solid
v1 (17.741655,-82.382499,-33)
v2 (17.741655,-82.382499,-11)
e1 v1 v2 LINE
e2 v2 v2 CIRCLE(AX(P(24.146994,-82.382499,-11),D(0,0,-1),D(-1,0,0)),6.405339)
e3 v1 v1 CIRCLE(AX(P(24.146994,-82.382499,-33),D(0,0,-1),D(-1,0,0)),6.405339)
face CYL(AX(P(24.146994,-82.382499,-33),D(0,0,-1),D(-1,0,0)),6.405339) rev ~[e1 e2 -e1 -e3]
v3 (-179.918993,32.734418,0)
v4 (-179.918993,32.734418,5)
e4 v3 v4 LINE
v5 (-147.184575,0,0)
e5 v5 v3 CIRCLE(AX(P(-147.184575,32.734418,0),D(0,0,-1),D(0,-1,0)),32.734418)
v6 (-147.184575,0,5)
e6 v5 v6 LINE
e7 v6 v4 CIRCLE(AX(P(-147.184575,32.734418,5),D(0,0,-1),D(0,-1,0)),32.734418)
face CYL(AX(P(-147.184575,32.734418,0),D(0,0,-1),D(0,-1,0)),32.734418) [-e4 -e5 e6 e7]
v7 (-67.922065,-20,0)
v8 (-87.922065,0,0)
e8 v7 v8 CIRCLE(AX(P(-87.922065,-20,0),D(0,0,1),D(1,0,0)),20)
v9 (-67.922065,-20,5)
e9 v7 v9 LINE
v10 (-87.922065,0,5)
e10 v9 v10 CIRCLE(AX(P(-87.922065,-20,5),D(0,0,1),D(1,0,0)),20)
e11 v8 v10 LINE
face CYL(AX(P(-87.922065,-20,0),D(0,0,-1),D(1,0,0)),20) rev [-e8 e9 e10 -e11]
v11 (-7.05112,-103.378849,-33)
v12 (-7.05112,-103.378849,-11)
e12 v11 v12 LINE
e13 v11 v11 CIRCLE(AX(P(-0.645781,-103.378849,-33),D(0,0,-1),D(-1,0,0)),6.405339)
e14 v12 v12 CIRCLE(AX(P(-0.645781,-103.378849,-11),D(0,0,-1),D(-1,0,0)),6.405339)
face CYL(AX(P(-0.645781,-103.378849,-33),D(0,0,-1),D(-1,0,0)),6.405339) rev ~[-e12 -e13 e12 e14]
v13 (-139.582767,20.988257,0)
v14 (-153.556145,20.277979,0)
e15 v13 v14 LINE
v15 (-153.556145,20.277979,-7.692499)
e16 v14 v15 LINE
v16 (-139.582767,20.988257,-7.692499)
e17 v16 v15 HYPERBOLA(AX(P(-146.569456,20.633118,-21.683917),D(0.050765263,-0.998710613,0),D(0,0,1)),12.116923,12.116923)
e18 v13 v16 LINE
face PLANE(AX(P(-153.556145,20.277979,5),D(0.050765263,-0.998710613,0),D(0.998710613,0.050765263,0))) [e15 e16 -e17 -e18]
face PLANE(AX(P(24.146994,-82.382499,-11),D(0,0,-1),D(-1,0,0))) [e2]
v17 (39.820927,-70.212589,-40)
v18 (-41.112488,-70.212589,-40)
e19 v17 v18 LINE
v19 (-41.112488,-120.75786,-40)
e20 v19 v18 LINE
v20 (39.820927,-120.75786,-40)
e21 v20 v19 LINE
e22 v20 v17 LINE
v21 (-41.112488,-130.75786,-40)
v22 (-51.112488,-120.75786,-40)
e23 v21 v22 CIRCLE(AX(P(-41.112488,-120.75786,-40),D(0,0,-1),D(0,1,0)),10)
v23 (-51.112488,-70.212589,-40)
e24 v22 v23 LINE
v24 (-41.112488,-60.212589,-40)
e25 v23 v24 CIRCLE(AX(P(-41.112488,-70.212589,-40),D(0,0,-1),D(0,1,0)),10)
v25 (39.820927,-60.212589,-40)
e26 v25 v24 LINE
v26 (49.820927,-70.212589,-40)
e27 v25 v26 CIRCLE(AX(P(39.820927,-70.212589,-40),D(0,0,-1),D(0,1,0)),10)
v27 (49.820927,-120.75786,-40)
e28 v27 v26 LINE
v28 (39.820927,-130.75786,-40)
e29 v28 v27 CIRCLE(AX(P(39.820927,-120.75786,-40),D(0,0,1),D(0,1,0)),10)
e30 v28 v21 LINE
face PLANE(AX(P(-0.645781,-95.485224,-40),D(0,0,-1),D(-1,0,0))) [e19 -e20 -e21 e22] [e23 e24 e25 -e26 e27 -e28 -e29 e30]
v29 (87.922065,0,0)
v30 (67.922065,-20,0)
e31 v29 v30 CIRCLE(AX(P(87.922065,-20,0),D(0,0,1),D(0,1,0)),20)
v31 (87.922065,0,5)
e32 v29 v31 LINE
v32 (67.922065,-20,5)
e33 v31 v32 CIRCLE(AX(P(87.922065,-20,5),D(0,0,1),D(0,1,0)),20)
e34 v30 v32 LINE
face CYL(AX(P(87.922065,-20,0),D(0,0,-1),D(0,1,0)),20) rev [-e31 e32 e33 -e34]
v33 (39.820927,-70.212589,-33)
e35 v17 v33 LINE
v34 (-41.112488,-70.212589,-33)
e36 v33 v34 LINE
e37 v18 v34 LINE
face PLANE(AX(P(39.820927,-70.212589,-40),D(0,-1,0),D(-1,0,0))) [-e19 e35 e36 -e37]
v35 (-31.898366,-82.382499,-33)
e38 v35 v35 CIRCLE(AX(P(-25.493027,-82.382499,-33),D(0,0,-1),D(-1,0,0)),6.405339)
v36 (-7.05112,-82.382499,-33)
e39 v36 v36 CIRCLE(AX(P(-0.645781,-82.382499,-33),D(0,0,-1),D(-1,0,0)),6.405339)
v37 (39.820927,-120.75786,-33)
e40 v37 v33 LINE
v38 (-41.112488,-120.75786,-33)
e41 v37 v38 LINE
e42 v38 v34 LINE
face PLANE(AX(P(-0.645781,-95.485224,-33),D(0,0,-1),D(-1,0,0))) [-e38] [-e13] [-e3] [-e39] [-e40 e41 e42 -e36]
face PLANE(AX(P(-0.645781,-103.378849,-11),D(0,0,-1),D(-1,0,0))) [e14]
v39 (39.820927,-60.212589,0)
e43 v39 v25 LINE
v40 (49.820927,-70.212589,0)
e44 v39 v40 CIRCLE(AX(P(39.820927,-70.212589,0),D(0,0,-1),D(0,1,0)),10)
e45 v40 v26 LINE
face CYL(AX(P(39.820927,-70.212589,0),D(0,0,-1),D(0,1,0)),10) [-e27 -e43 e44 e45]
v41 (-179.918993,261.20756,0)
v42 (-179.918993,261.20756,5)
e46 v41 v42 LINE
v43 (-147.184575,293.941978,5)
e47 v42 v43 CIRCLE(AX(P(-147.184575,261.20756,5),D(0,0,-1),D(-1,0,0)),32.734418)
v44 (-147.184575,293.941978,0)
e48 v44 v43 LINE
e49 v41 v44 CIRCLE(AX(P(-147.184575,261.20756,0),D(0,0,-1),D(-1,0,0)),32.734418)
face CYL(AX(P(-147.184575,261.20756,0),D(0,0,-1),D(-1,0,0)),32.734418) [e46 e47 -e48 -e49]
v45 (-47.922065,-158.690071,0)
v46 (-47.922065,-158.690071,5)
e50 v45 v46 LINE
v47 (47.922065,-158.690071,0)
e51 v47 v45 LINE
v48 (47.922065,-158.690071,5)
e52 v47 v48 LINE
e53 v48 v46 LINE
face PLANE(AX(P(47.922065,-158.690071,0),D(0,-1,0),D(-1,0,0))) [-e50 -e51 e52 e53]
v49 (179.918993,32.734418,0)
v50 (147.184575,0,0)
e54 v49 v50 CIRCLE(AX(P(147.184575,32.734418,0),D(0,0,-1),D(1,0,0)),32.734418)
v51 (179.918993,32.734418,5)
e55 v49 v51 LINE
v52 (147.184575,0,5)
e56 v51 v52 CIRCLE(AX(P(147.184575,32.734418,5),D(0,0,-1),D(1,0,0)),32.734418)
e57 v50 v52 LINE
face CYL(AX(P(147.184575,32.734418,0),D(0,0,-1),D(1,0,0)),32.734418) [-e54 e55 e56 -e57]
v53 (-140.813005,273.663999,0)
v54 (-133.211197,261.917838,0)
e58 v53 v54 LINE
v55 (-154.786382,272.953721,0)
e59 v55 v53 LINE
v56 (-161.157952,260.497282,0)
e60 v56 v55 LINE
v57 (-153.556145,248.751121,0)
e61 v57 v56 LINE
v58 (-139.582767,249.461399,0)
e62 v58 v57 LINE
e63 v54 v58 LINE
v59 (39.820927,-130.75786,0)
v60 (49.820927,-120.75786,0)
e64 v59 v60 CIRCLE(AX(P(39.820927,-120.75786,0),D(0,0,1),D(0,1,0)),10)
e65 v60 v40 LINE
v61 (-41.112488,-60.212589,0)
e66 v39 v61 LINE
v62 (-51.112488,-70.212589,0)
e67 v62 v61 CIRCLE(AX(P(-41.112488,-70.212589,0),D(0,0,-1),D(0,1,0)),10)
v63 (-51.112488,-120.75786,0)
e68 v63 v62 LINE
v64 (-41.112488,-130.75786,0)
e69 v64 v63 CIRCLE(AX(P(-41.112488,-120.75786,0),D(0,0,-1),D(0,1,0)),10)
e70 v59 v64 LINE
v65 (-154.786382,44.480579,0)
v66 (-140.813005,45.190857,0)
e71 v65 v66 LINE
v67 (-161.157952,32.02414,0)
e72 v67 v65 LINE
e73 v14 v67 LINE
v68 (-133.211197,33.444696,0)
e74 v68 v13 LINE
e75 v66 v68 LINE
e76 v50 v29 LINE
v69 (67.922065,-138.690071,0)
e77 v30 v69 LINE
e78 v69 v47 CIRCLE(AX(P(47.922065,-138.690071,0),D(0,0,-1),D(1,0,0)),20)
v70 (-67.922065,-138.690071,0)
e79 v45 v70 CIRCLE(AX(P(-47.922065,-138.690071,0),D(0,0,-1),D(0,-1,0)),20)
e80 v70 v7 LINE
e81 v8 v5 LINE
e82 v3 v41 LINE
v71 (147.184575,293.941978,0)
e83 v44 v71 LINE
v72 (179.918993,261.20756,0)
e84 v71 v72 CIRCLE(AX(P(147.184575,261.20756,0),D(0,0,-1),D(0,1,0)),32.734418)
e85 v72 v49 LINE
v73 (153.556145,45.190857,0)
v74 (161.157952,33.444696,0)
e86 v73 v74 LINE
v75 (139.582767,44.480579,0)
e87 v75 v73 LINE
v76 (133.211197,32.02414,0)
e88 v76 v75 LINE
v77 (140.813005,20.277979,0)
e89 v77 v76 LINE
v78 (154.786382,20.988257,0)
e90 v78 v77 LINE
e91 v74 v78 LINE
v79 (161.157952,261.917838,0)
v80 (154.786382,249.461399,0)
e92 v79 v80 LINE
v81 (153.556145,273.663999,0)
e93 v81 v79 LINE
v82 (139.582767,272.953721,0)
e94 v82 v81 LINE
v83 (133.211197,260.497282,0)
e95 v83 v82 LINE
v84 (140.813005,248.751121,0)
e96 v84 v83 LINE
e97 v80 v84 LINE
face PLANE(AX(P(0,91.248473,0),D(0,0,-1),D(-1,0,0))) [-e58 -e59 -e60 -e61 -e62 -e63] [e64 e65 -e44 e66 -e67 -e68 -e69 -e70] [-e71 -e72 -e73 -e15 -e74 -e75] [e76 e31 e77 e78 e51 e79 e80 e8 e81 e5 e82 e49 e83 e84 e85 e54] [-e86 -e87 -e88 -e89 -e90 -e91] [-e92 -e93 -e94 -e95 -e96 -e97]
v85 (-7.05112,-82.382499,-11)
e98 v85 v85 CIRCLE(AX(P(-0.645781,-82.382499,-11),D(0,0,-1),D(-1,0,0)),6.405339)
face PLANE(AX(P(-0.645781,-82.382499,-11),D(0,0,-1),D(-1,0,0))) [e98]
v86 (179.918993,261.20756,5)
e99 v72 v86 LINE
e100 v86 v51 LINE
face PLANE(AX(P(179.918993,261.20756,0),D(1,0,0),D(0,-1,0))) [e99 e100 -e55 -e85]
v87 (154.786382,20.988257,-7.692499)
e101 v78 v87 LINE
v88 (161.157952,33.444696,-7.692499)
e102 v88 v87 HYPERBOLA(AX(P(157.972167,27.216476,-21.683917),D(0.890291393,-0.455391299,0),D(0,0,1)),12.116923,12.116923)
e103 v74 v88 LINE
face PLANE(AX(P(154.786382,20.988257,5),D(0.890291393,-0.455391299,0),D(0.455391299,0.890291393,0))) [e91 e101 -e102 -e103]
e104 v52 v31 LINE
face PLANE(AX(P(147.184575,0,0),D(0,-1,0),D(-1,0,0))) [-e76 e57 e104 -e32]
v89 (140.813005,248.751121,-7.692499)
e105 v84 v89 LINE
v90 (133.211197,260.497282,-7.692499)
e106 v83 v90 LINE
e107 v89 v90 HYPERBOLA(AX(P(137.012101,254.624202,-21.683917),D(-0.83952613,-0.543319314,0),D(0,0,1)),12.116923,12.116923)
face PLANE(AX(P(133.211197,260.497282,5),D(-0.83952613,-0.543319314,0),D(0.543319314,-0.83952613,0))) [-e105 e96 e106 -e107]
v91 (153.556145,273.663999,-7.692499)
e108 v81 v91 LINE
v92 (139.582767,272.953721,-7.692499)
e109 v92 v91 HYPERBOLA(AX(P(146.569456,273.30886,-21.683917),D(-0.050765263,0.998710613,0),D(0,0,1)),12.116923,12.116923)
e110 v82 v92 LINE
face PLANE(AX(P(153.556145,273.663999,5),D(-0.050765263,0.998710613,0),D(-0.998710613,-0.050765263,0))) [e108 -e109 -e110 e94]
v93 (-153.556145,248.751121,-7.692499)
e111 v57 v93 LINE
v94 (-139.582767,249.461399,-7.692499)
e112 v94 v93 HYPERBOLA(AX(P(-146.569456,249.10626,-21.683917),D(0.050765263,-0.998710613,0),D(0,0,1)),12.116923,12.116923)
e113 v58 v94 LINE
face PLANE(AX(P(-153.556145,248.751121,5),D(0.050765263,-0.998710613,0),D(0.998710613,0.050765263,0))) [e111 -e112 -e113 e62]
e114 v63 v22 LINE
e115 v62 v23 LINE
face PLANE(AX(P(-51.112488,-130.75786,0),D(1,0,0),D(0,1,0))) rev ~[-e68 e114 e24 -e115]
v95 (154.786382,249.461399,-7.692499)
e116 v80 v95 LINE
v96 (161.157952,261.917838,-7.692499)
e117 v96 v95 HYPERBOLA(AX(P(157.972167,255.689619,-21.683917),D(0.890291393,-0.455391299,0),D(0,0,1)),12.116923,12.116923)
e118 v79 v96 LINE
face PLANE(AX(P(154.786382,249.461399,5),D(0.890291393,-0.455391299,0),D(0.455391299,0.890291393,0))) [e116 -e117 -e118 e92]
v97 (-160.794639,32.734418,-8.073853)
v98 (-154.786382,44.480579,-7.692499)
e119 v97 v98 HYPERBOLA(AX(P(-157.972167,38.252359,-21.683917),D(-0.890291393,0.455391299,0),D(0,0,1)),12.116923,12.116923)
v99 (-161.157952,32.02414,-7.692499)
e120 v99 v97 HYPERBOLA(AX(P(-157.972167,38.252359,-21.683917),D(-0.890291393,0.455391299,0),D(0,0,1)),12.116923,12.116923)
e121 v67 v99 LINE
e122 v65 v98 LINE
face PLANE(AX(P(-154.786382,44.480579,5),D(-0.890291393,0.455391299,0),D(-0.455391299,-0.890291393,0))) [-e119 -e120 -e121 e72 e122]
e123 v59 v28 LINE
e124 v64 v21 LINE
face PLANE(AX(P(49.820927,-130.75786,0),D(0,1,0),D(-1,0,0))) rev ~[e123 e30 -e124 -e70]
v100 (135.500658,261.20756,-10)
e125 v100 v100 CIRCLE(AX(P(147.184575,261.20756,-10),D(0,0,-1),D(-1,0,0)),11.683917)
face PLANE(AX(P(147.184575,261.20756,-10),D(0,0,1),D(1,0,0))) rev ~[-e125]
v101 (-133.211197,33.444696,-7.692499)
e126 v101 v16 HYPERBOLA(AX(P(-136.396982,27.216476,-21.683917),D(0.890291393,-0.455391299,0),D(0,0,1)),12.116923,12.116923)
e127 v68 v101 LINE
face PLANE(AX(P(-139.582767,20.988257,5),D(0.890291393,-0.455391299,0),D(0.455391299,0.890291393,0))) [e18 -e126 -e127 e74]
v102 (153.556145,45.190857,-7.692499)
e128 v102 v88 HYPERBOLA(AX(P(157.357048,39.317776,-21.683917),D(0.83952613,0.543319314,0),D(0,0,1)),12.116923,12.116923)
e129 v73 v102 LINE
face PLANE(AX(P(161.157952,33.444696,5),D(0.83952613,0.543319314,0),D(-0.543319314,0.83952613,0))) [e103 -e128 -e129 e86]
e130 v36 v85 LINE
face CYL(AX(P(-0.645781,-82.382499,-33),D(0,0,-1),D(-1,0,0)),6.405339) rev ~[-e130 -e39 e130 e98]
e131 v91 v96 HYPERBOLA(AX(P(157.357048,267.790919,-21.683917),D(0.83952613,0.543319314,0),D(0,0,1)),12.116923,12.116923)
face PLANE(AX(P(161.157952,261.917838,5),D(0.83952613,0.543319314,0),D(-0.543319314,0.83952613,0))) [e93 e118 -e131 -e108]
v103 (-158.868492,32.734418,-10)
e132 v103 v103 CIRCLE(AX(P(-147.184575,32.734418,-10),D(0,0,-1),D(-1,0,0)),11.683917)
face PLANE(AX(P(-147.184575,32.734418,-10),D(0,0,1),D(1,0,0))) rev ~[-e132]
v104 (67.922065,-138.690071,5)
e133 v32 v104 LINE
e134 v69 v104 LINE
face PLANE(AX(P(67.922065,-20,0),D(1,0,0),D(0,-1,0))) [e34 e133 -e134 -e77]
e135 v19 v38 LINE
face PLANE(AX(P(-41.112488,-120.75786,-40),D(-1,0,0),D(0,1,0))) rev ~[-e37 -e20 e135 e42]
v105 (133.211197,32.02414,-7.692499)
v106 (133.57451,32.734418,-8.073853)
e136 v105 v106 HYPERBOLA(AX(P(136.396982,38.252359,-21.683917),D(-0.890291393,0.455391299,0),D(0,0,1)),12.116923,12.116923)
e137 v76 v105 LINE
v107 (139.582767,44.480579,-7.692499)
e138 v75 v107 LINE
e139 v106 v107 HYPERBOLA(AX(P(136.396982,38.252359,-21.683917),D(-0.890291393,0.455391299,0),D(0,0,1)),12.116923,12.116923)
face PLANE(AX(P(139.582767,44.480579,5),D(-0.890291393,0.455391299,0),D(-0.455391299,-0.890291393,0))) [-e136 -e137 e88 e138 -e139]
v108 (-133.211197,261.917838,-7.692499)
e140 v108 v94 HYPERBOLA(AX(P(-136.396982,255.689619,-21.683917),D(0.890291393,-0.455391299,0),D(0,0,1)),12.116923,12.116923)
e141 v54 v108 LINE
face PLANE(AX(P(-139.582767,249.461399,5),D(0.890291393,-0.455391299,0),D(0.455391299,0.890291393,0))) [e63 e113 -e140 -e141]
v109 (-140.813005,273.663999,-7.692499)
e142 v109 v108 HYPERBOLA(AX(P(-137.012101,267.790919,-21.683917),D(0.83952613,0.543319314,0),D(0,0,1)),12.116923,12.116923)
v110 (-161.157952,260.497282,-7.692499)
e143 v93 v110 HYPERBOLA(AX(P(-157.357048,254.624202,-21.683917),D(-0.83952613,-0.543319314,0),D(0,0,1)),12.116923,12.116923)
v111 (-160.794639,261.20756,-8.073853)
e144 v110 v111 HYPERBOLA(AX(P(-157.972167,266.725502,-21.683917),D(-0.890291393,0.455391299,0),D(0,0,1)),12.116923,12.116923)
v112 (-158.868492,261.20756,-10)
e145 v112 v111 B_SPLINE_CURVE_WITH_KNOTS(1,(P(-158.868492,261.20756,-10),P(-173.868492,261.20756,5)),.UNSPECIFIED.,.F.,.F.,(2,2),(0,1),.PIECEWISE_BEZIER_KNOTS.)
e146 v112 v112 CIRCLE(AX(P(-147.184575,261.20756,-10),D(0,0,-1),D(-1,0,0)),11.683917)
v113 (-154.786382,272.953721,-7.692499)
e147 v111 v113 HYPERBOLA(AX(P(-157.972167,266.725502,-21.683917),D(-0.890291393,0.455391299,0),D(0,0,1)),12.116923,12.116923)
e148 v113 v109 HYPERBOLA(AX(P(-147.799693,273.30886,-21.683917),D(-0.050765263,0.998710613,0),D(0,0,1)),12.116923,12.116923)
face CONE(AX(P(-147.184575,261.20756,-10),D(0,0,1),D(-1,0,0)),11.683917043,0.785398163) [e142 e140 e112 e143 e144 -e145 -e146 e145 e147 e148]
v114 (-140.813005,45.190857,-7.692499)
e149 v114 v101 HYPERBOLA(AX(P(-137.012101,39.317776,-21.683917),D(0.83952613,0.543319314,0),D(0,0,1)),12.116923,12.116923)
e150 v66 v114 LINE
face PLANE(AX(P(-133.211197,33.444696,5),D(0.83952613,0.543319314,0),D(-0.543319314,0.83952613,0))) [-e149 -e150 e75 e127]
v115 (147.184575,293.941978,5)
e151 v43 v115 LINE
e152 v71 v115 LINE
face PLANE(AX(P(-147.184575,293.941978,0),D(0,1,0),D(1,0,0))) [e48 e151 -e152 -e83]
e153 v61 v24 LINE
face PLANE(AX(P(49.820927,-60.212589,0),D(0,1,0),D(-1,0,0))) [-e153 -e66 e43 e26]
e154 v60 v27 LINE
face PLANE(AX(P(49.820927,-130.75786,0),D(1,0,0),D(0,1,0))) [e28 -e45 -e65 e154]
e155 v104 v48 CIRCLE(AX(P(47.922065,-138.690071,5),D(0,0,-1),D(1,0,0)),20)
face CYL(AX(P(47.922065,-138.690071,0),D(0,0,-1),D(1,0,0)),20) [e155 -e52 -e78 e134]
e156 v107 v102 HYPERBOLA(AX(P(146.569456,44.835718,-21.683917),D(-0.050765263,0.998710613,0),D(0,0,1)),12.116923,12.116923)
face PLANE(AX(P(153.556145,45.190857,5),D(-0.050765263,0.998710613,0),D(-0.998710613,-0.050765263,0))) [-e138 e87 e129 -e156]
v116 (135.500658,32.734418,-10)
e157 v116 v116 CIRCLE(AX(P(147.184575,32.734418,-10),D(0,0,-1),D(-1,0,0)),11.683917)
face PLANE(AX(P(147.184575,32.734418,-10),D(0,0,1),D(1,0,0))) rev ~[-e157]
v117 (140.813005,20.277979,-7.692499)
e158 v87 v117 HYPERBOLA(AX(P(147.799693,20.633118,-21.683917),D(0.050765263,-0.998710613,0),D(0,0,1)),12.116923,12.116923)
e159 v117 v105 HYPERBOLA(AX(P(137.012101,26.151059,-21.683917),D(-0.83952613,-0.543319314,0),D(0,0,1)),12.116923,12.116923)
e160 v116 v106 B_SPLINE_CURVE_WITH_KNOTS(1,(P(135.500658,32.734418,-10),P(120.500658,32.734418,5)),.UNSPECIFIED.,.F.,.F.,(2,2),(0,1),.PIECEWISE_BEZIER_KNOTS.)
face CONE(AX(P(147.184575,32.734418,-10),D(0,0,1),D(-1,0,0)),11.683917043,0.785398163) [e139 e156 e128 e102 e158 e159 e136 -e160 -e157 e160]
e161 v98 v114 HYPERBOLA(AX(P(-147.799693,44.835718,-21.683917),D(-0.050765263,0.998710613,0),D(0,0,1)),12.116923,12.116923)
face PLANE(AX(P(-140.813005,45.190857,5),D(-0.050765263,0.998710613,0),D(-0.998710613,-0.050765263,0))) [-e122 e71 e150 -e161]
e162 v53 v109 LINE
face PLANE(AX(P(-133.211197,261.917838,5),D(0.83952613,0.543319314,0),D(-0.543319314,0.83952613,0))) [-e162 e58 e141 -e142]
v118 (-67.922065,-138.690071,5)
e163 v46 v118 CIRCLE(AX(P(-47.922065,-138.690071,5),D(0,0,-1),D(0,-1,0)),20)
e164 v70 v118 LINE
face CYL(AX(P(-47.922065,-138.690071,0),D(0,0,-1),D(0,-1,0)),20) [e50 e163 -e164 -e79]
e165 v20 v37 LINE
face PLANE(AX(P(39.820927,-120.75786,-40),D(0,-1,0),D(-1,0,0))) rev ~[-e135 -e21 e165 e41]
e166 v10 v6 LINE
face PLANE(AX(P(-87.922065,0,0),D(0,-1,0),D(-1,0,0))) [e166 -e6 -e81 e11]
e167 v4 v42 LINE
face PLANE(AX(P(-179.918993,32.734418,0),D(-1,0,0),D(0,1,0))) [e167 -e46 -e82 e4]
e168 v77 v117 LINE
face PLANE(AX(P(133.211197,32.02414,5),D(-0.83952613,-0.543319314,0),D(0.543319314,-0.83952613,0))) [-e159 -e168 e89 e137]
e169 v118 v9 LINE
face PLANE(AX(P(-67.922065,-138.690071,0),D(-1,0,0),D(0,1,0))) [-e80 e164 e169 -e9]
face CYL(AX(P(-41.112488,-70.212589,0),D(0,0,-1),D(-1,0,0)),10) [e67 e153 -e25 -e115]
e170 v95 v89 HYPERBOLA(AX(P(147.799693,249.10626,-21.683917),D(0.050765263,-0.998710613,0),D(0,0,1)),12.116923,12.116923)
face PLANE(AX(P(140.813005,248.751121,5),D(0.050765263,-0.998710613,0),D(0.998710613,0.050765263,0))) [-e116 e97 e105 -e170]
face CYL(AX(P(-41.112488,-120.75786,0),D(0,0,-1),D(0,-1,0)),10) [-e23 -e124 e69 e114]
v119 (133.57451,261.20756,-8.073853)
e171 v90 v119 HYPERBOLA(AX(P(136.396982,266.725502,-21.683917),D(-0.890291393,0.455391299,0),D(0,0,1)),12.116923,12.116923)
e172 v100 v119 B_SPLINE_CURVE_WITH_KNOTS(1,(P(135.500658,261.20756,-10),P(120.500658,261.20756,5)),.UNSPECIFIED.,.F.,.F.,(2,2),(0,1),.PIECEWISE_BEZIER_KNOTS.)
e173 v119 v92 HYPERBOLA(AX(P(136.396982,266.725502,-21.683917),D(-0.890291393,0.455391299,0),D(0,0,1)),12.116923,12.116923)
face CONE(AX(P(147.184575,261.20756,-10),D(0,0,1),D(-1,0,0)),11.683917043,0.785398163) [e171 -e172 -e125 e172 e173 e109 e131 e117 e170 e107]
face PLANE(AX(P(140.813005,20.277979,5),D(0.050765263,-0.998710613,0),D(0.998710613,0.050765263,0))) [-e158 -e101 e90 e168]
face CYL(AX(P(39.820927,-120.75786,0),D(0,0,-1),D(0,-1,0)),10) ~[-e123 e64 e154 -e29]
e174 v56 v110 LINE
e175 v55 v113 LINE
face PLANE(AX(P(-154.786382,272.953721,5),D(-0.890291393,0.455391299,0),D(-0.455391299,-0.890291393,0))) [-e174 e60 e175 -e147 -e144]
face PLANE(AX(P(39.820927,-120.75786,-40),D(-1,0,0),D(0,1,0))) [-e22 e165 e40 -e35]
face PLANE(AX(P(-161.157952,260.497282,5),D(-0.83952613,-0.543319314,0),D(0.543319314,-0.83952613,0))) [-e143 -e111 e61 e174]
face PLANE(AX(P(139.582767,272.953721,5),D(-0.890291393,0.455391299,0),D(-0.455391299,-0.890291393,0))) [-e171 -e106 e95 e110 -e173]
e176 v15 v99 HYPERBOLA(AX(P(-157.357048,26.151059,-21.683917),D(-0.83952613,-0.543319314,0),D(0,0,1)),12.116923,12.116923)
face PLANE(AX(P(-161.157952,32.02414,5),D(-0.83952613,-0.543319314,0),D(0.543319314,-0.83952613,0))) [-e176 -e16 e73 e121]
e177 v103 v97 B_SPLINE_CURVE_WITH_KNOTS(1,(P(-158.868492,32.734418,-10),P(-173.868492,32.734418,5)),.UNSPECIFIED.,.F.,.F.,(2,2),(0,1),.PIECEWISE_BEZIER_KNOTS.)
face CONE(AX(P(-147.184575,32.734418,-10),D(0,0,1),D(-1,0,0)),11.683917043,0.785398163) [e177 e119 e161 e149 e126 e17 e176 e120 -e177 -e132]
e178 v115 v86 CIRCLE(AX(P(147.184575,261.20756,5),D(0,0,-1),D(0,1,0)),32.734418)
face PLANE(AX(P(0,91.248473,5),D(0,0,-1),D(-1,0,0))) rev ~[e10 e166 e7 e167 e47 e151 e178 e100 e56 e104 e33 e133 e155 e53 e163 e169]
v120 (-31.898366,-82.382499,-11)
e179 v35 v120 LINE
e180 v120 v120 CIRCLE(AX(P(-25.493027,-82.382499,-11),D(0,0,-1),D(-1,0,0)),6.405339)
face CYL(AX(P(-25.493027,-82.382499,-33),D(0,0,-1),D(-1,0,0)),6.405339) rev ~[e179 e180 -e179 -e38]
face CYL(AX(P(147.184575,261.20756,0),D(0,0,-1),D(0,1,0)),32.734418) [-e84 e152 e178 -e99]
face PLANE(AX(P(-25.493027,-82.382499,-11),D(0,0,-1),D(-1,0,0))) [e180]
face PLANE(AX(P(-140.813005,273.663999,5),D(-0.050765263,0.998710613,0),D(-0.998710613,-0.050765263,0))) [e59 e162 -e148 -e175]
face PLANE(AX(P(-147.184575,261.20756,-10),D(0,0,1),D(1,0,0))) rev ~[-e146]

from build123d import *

# Parameters (mm, degrees)
BOSS_EXTRUDE1_DEPTH = 5
SKETCH2_R           = 9
CUT_EXTRUDE1_DEPTH  = 75
BOSS_EXTRUDE2_DEPTH = 15
SKETCH4_R           = 18.116170111
SKETCH4_R_2         = 11.683917043
CUT_EXTRUDE2_DEPTH  = 15
CUT_EXTRUDE2_TAPER  = 45
SKETCH5_W           = 100.933414707
SKETCH5_H           = 70.54527083
BOSS_EXTRUDE3_DEPTH = 40
FILLET1_R           = 10
SKETCH6_W           = 80.933414707
SKETCH6_H           = 50.54527083
CUT_EXTRUDE3_DEPTH  = 7
SKETCH7_R           = 6.405339055
CUT_EXTRUDE4_DEPTH  = 22


with BuildPart() as part:
    # Sketch1 → Boss-Extrude1 (new body)
    with BuildSketch(Plane.XY):
        with BuildLine():
            Line((-147.184574627, 293.941978101), (147.184574627, 293.941978101))
            ThreePointArc((147.184574627, 293.941978101), (170.33130349, 284.354289081), (179.91899251, 261.207560218))
            Line((179.91899251, 261.207560218), (179.91899251, 32.734417883))
            ThreePointArc((179.91899251, 32.734417883), (170.33130349, 9.58768902), (147.184574627, 0))
            Line((147.184574627, 0), (87.922065379, 0))
            ThreePointArc((87.922065379, 0), (73.779929755, -5.857864376), (67.922065379, -20))
            Line((67.922065379, -20), (67.922065379, -138.690071177))
            ThreePointArc((67.922065379, -138.690071177), (62.064201003, -152.832206801), (47.922065379, -158.690071177))
            Line((47.922065379, -158.690071177), (-47.922065379, -158.690071177))
            ThreePointArc((-47.922065379, -158.690071177), (-62.064201003, -152.832206801), (-67.922065379, -138.690071177))
            Line((-67.922065379, -138.690071177), (-67.922065379, -20))
            ThreePointArc((-67.922065379, -20), (-73.779929755, -5.857864376), (-87.922065379, 0))
            Line((-87.922065379, 0), (-147.184574627, 0))
            ThreePointArc((-147.184574627, 0), (-170.33130349, 9.58768902), (-179.91899251, 32.734417883))
            Line((-179.91899251, 32.734417883), (-179.91899251, 261.207560218))
            ThreePointArc((-179.91899251, 261.207560218), (-170.33130349, 284.354289081), (-147.184574627, 293.941978101))
        make_face()
    extrude(amount=BOSS_EXTRUDE1_DEPTH)

    # Sketch2 → Cut-Extrude1 (cut)
    with BuildSketch(Plane.XY.offset(5)):
        with Locations((-147.184574627, 261.207560218)):
            Circle(SKETCH2_R)
        with Locations((147.184574627, 261.207560218)):
            Circle(SKETCH2_R)
        with Locations((147.184574627, 32.734417883)):
            Circle(SKETCH2_R)
        with Locations((-147.184574627, 32.734417883)):
            Circle(SKETCH2_R)
    extrude(amount=-CUT_EXTRUDE1_DEPTH, mode=Mode.SUBTRACT)

    # Sketch3 → Boss-Extrude2 (add)
    with BuildSketch(Plane.XY.offset(5)):
        Polygon((139.58276715, 272.953720991), (133.211197263, 260.497282214), (140.81300474, 248.751121442), (154.786382105, 249.461399446), (161.157951992, 261.917838222), (153.556144514, 273.663998995), align=None)
        Polygon((-140.81300474, 273.663998995), (-154.786382105, 272.953720991), (-161.157951992, 260.497282214), (-153.556144514, 248.751121442), (-139.58276715, 249.461399446), (-133.211197263, 261.917838222), align=None)
        Polygon((139.58276715, 44.480578655), (133.211197263, 32.024139879), (140.81300474, 20.277979107), (154.786382105, 20.988257111), (161.157951992, 33.444695887), (153.556144514, 45.190856659), align=None)
        Polygon((-154.786382105, 44.480578655), (-161.157951992, 32.024139879), (-153.556144514, 20.277979107), (-139.58276715, 20.988257111), (-133.211197263, 33.444695887), (-140.81300474, 45.190856659), align=None)
    extrude(amount=-BOSS_EXTRUDE2_DEPTH)

    # Sketch4 → Cut-Extrude2 (cut)
    # profile 1 of 4: a face of its own
    with BuildSketch(Plane(origin=(0, 0, -10), x_dir=(-1, 0, 0), z_dir=(0, 0, -1))):
        with Locations((-147.184574627, 261.207560218)):
            Circle(SKETCH4_R)
        with Locations((-147.184574627, 261.207560218)):
            Circle(SKETCH4_R_2, mode=Mode.SUBTRACT)
    # profile 2 of 4: a face of its own
    with BuildSketch(Plane(origin=(0, 0, -10), x_dir=(-1, 0, 0), z_dir=(0, 0, -1))):
        with Locations((-147.184574627, 32.734417883)):
            Circle(SKETCH4_R)
        with Locations((-147.184574627, 32.734417883)):
            Circle(SKETCH4_R_2, mode=Mode.SUBTRACT)
    # profile 3 of 4: a face of its own
    with BuildSketch(Plane(origin=(0, 0, -10), x_dir=(-1, 0, 0), z_dir=(0, 0, -1))):
        with Locations((147.184574627, 32.734417883)):
            Circle(SKETCH4_R)
        with Locations((147.184574627, 32.734417883)):
            Circle(SKETCH4_R_2, mode=Mode.SUBTRACT)
    # profile 4 of 4: a face of its own
    with BuildSketch(Plane(origin=(0, 0, -10), x_dir=(-1, 0, 0), z_dir=(0, 0, -1))):
        with Locations((147.184574627, 261.207560218)):
            Circle(SKETCH4_R)
        with Locations((147.184574627, 261.207560218)):
            Circle(SKETCH4_R_2, mode=Mode.SUBTRACT)
    extrude(amount=-CUT_EXTRUDE2_DEPTH, taper=CUT_EXTRUDE2_TAPER, mode=Mode.SUBTRACT)

    # Sketch5 → Boss-Extrude3 (add)
    with BuildSketch(Plane(origin=(0, 0, 0), x_dir=(-1, 0, 0), z_dir=(0, 0, -1))):
        with Locations((0.645780789, -95.485224261)):
            Rectangle(SKETCH5_W, SKETCH5_H)
    extrude(amount=BOSS_EXTRUDE3_DEPTH)

    # Fillet1
    fillet1_edges = [part.edges().sort_by_distance(p)[0] for p in [
        (49.820926565, -60.212588846, -20),
        (49.820926565, -130.757859676, -20),
        (-51.112488142, -130.757859676, -20),
        (-51.112488142, -60.212588846, -20),
    ]]
    fillet(fillet1_edges, radius=FILLET1_R)

    # Sketch6 → Cut-Extrude3 (cut)
    with BuildSketch(Plane(origin=(0, 0, -40), x_dir=(-1, 0, 0), z_dir=(0, 0, -1))):
        with Locations((0.645780789, -95.485224261)):
            Rectangle(SKETCH6_W, SKETCH6_H)
    extrude(amount=-CUT_EXTRUDE3_DEPTH, mode=Mode.SUBTRACT)

    # Sketch7 → Cut-Extrude4 (cut)
    with BuildSketch(Plane(origin=(0, 0, -33), x_dir=(-1, 0, 0), z_dir=(0, 0, -1))):
        with Locations((-24.146994076, -82.382499347)):
            Circle(SKETCH7_R)
        with Locations((0.645780789, -82.382499347)):
            Circle(SKETCH7_R)
        with Locations((0.645780789, -103.378848644)):
            Circle(SKETCH7_R)
        with Locations((25.493027066, -82.382499347)):
            Circle(SKETCH7_R)
    extrude(amount=-CUT_EXTRUDE4_DEPTH, mode=Mode.SUBTRACT)


solid = part.part
